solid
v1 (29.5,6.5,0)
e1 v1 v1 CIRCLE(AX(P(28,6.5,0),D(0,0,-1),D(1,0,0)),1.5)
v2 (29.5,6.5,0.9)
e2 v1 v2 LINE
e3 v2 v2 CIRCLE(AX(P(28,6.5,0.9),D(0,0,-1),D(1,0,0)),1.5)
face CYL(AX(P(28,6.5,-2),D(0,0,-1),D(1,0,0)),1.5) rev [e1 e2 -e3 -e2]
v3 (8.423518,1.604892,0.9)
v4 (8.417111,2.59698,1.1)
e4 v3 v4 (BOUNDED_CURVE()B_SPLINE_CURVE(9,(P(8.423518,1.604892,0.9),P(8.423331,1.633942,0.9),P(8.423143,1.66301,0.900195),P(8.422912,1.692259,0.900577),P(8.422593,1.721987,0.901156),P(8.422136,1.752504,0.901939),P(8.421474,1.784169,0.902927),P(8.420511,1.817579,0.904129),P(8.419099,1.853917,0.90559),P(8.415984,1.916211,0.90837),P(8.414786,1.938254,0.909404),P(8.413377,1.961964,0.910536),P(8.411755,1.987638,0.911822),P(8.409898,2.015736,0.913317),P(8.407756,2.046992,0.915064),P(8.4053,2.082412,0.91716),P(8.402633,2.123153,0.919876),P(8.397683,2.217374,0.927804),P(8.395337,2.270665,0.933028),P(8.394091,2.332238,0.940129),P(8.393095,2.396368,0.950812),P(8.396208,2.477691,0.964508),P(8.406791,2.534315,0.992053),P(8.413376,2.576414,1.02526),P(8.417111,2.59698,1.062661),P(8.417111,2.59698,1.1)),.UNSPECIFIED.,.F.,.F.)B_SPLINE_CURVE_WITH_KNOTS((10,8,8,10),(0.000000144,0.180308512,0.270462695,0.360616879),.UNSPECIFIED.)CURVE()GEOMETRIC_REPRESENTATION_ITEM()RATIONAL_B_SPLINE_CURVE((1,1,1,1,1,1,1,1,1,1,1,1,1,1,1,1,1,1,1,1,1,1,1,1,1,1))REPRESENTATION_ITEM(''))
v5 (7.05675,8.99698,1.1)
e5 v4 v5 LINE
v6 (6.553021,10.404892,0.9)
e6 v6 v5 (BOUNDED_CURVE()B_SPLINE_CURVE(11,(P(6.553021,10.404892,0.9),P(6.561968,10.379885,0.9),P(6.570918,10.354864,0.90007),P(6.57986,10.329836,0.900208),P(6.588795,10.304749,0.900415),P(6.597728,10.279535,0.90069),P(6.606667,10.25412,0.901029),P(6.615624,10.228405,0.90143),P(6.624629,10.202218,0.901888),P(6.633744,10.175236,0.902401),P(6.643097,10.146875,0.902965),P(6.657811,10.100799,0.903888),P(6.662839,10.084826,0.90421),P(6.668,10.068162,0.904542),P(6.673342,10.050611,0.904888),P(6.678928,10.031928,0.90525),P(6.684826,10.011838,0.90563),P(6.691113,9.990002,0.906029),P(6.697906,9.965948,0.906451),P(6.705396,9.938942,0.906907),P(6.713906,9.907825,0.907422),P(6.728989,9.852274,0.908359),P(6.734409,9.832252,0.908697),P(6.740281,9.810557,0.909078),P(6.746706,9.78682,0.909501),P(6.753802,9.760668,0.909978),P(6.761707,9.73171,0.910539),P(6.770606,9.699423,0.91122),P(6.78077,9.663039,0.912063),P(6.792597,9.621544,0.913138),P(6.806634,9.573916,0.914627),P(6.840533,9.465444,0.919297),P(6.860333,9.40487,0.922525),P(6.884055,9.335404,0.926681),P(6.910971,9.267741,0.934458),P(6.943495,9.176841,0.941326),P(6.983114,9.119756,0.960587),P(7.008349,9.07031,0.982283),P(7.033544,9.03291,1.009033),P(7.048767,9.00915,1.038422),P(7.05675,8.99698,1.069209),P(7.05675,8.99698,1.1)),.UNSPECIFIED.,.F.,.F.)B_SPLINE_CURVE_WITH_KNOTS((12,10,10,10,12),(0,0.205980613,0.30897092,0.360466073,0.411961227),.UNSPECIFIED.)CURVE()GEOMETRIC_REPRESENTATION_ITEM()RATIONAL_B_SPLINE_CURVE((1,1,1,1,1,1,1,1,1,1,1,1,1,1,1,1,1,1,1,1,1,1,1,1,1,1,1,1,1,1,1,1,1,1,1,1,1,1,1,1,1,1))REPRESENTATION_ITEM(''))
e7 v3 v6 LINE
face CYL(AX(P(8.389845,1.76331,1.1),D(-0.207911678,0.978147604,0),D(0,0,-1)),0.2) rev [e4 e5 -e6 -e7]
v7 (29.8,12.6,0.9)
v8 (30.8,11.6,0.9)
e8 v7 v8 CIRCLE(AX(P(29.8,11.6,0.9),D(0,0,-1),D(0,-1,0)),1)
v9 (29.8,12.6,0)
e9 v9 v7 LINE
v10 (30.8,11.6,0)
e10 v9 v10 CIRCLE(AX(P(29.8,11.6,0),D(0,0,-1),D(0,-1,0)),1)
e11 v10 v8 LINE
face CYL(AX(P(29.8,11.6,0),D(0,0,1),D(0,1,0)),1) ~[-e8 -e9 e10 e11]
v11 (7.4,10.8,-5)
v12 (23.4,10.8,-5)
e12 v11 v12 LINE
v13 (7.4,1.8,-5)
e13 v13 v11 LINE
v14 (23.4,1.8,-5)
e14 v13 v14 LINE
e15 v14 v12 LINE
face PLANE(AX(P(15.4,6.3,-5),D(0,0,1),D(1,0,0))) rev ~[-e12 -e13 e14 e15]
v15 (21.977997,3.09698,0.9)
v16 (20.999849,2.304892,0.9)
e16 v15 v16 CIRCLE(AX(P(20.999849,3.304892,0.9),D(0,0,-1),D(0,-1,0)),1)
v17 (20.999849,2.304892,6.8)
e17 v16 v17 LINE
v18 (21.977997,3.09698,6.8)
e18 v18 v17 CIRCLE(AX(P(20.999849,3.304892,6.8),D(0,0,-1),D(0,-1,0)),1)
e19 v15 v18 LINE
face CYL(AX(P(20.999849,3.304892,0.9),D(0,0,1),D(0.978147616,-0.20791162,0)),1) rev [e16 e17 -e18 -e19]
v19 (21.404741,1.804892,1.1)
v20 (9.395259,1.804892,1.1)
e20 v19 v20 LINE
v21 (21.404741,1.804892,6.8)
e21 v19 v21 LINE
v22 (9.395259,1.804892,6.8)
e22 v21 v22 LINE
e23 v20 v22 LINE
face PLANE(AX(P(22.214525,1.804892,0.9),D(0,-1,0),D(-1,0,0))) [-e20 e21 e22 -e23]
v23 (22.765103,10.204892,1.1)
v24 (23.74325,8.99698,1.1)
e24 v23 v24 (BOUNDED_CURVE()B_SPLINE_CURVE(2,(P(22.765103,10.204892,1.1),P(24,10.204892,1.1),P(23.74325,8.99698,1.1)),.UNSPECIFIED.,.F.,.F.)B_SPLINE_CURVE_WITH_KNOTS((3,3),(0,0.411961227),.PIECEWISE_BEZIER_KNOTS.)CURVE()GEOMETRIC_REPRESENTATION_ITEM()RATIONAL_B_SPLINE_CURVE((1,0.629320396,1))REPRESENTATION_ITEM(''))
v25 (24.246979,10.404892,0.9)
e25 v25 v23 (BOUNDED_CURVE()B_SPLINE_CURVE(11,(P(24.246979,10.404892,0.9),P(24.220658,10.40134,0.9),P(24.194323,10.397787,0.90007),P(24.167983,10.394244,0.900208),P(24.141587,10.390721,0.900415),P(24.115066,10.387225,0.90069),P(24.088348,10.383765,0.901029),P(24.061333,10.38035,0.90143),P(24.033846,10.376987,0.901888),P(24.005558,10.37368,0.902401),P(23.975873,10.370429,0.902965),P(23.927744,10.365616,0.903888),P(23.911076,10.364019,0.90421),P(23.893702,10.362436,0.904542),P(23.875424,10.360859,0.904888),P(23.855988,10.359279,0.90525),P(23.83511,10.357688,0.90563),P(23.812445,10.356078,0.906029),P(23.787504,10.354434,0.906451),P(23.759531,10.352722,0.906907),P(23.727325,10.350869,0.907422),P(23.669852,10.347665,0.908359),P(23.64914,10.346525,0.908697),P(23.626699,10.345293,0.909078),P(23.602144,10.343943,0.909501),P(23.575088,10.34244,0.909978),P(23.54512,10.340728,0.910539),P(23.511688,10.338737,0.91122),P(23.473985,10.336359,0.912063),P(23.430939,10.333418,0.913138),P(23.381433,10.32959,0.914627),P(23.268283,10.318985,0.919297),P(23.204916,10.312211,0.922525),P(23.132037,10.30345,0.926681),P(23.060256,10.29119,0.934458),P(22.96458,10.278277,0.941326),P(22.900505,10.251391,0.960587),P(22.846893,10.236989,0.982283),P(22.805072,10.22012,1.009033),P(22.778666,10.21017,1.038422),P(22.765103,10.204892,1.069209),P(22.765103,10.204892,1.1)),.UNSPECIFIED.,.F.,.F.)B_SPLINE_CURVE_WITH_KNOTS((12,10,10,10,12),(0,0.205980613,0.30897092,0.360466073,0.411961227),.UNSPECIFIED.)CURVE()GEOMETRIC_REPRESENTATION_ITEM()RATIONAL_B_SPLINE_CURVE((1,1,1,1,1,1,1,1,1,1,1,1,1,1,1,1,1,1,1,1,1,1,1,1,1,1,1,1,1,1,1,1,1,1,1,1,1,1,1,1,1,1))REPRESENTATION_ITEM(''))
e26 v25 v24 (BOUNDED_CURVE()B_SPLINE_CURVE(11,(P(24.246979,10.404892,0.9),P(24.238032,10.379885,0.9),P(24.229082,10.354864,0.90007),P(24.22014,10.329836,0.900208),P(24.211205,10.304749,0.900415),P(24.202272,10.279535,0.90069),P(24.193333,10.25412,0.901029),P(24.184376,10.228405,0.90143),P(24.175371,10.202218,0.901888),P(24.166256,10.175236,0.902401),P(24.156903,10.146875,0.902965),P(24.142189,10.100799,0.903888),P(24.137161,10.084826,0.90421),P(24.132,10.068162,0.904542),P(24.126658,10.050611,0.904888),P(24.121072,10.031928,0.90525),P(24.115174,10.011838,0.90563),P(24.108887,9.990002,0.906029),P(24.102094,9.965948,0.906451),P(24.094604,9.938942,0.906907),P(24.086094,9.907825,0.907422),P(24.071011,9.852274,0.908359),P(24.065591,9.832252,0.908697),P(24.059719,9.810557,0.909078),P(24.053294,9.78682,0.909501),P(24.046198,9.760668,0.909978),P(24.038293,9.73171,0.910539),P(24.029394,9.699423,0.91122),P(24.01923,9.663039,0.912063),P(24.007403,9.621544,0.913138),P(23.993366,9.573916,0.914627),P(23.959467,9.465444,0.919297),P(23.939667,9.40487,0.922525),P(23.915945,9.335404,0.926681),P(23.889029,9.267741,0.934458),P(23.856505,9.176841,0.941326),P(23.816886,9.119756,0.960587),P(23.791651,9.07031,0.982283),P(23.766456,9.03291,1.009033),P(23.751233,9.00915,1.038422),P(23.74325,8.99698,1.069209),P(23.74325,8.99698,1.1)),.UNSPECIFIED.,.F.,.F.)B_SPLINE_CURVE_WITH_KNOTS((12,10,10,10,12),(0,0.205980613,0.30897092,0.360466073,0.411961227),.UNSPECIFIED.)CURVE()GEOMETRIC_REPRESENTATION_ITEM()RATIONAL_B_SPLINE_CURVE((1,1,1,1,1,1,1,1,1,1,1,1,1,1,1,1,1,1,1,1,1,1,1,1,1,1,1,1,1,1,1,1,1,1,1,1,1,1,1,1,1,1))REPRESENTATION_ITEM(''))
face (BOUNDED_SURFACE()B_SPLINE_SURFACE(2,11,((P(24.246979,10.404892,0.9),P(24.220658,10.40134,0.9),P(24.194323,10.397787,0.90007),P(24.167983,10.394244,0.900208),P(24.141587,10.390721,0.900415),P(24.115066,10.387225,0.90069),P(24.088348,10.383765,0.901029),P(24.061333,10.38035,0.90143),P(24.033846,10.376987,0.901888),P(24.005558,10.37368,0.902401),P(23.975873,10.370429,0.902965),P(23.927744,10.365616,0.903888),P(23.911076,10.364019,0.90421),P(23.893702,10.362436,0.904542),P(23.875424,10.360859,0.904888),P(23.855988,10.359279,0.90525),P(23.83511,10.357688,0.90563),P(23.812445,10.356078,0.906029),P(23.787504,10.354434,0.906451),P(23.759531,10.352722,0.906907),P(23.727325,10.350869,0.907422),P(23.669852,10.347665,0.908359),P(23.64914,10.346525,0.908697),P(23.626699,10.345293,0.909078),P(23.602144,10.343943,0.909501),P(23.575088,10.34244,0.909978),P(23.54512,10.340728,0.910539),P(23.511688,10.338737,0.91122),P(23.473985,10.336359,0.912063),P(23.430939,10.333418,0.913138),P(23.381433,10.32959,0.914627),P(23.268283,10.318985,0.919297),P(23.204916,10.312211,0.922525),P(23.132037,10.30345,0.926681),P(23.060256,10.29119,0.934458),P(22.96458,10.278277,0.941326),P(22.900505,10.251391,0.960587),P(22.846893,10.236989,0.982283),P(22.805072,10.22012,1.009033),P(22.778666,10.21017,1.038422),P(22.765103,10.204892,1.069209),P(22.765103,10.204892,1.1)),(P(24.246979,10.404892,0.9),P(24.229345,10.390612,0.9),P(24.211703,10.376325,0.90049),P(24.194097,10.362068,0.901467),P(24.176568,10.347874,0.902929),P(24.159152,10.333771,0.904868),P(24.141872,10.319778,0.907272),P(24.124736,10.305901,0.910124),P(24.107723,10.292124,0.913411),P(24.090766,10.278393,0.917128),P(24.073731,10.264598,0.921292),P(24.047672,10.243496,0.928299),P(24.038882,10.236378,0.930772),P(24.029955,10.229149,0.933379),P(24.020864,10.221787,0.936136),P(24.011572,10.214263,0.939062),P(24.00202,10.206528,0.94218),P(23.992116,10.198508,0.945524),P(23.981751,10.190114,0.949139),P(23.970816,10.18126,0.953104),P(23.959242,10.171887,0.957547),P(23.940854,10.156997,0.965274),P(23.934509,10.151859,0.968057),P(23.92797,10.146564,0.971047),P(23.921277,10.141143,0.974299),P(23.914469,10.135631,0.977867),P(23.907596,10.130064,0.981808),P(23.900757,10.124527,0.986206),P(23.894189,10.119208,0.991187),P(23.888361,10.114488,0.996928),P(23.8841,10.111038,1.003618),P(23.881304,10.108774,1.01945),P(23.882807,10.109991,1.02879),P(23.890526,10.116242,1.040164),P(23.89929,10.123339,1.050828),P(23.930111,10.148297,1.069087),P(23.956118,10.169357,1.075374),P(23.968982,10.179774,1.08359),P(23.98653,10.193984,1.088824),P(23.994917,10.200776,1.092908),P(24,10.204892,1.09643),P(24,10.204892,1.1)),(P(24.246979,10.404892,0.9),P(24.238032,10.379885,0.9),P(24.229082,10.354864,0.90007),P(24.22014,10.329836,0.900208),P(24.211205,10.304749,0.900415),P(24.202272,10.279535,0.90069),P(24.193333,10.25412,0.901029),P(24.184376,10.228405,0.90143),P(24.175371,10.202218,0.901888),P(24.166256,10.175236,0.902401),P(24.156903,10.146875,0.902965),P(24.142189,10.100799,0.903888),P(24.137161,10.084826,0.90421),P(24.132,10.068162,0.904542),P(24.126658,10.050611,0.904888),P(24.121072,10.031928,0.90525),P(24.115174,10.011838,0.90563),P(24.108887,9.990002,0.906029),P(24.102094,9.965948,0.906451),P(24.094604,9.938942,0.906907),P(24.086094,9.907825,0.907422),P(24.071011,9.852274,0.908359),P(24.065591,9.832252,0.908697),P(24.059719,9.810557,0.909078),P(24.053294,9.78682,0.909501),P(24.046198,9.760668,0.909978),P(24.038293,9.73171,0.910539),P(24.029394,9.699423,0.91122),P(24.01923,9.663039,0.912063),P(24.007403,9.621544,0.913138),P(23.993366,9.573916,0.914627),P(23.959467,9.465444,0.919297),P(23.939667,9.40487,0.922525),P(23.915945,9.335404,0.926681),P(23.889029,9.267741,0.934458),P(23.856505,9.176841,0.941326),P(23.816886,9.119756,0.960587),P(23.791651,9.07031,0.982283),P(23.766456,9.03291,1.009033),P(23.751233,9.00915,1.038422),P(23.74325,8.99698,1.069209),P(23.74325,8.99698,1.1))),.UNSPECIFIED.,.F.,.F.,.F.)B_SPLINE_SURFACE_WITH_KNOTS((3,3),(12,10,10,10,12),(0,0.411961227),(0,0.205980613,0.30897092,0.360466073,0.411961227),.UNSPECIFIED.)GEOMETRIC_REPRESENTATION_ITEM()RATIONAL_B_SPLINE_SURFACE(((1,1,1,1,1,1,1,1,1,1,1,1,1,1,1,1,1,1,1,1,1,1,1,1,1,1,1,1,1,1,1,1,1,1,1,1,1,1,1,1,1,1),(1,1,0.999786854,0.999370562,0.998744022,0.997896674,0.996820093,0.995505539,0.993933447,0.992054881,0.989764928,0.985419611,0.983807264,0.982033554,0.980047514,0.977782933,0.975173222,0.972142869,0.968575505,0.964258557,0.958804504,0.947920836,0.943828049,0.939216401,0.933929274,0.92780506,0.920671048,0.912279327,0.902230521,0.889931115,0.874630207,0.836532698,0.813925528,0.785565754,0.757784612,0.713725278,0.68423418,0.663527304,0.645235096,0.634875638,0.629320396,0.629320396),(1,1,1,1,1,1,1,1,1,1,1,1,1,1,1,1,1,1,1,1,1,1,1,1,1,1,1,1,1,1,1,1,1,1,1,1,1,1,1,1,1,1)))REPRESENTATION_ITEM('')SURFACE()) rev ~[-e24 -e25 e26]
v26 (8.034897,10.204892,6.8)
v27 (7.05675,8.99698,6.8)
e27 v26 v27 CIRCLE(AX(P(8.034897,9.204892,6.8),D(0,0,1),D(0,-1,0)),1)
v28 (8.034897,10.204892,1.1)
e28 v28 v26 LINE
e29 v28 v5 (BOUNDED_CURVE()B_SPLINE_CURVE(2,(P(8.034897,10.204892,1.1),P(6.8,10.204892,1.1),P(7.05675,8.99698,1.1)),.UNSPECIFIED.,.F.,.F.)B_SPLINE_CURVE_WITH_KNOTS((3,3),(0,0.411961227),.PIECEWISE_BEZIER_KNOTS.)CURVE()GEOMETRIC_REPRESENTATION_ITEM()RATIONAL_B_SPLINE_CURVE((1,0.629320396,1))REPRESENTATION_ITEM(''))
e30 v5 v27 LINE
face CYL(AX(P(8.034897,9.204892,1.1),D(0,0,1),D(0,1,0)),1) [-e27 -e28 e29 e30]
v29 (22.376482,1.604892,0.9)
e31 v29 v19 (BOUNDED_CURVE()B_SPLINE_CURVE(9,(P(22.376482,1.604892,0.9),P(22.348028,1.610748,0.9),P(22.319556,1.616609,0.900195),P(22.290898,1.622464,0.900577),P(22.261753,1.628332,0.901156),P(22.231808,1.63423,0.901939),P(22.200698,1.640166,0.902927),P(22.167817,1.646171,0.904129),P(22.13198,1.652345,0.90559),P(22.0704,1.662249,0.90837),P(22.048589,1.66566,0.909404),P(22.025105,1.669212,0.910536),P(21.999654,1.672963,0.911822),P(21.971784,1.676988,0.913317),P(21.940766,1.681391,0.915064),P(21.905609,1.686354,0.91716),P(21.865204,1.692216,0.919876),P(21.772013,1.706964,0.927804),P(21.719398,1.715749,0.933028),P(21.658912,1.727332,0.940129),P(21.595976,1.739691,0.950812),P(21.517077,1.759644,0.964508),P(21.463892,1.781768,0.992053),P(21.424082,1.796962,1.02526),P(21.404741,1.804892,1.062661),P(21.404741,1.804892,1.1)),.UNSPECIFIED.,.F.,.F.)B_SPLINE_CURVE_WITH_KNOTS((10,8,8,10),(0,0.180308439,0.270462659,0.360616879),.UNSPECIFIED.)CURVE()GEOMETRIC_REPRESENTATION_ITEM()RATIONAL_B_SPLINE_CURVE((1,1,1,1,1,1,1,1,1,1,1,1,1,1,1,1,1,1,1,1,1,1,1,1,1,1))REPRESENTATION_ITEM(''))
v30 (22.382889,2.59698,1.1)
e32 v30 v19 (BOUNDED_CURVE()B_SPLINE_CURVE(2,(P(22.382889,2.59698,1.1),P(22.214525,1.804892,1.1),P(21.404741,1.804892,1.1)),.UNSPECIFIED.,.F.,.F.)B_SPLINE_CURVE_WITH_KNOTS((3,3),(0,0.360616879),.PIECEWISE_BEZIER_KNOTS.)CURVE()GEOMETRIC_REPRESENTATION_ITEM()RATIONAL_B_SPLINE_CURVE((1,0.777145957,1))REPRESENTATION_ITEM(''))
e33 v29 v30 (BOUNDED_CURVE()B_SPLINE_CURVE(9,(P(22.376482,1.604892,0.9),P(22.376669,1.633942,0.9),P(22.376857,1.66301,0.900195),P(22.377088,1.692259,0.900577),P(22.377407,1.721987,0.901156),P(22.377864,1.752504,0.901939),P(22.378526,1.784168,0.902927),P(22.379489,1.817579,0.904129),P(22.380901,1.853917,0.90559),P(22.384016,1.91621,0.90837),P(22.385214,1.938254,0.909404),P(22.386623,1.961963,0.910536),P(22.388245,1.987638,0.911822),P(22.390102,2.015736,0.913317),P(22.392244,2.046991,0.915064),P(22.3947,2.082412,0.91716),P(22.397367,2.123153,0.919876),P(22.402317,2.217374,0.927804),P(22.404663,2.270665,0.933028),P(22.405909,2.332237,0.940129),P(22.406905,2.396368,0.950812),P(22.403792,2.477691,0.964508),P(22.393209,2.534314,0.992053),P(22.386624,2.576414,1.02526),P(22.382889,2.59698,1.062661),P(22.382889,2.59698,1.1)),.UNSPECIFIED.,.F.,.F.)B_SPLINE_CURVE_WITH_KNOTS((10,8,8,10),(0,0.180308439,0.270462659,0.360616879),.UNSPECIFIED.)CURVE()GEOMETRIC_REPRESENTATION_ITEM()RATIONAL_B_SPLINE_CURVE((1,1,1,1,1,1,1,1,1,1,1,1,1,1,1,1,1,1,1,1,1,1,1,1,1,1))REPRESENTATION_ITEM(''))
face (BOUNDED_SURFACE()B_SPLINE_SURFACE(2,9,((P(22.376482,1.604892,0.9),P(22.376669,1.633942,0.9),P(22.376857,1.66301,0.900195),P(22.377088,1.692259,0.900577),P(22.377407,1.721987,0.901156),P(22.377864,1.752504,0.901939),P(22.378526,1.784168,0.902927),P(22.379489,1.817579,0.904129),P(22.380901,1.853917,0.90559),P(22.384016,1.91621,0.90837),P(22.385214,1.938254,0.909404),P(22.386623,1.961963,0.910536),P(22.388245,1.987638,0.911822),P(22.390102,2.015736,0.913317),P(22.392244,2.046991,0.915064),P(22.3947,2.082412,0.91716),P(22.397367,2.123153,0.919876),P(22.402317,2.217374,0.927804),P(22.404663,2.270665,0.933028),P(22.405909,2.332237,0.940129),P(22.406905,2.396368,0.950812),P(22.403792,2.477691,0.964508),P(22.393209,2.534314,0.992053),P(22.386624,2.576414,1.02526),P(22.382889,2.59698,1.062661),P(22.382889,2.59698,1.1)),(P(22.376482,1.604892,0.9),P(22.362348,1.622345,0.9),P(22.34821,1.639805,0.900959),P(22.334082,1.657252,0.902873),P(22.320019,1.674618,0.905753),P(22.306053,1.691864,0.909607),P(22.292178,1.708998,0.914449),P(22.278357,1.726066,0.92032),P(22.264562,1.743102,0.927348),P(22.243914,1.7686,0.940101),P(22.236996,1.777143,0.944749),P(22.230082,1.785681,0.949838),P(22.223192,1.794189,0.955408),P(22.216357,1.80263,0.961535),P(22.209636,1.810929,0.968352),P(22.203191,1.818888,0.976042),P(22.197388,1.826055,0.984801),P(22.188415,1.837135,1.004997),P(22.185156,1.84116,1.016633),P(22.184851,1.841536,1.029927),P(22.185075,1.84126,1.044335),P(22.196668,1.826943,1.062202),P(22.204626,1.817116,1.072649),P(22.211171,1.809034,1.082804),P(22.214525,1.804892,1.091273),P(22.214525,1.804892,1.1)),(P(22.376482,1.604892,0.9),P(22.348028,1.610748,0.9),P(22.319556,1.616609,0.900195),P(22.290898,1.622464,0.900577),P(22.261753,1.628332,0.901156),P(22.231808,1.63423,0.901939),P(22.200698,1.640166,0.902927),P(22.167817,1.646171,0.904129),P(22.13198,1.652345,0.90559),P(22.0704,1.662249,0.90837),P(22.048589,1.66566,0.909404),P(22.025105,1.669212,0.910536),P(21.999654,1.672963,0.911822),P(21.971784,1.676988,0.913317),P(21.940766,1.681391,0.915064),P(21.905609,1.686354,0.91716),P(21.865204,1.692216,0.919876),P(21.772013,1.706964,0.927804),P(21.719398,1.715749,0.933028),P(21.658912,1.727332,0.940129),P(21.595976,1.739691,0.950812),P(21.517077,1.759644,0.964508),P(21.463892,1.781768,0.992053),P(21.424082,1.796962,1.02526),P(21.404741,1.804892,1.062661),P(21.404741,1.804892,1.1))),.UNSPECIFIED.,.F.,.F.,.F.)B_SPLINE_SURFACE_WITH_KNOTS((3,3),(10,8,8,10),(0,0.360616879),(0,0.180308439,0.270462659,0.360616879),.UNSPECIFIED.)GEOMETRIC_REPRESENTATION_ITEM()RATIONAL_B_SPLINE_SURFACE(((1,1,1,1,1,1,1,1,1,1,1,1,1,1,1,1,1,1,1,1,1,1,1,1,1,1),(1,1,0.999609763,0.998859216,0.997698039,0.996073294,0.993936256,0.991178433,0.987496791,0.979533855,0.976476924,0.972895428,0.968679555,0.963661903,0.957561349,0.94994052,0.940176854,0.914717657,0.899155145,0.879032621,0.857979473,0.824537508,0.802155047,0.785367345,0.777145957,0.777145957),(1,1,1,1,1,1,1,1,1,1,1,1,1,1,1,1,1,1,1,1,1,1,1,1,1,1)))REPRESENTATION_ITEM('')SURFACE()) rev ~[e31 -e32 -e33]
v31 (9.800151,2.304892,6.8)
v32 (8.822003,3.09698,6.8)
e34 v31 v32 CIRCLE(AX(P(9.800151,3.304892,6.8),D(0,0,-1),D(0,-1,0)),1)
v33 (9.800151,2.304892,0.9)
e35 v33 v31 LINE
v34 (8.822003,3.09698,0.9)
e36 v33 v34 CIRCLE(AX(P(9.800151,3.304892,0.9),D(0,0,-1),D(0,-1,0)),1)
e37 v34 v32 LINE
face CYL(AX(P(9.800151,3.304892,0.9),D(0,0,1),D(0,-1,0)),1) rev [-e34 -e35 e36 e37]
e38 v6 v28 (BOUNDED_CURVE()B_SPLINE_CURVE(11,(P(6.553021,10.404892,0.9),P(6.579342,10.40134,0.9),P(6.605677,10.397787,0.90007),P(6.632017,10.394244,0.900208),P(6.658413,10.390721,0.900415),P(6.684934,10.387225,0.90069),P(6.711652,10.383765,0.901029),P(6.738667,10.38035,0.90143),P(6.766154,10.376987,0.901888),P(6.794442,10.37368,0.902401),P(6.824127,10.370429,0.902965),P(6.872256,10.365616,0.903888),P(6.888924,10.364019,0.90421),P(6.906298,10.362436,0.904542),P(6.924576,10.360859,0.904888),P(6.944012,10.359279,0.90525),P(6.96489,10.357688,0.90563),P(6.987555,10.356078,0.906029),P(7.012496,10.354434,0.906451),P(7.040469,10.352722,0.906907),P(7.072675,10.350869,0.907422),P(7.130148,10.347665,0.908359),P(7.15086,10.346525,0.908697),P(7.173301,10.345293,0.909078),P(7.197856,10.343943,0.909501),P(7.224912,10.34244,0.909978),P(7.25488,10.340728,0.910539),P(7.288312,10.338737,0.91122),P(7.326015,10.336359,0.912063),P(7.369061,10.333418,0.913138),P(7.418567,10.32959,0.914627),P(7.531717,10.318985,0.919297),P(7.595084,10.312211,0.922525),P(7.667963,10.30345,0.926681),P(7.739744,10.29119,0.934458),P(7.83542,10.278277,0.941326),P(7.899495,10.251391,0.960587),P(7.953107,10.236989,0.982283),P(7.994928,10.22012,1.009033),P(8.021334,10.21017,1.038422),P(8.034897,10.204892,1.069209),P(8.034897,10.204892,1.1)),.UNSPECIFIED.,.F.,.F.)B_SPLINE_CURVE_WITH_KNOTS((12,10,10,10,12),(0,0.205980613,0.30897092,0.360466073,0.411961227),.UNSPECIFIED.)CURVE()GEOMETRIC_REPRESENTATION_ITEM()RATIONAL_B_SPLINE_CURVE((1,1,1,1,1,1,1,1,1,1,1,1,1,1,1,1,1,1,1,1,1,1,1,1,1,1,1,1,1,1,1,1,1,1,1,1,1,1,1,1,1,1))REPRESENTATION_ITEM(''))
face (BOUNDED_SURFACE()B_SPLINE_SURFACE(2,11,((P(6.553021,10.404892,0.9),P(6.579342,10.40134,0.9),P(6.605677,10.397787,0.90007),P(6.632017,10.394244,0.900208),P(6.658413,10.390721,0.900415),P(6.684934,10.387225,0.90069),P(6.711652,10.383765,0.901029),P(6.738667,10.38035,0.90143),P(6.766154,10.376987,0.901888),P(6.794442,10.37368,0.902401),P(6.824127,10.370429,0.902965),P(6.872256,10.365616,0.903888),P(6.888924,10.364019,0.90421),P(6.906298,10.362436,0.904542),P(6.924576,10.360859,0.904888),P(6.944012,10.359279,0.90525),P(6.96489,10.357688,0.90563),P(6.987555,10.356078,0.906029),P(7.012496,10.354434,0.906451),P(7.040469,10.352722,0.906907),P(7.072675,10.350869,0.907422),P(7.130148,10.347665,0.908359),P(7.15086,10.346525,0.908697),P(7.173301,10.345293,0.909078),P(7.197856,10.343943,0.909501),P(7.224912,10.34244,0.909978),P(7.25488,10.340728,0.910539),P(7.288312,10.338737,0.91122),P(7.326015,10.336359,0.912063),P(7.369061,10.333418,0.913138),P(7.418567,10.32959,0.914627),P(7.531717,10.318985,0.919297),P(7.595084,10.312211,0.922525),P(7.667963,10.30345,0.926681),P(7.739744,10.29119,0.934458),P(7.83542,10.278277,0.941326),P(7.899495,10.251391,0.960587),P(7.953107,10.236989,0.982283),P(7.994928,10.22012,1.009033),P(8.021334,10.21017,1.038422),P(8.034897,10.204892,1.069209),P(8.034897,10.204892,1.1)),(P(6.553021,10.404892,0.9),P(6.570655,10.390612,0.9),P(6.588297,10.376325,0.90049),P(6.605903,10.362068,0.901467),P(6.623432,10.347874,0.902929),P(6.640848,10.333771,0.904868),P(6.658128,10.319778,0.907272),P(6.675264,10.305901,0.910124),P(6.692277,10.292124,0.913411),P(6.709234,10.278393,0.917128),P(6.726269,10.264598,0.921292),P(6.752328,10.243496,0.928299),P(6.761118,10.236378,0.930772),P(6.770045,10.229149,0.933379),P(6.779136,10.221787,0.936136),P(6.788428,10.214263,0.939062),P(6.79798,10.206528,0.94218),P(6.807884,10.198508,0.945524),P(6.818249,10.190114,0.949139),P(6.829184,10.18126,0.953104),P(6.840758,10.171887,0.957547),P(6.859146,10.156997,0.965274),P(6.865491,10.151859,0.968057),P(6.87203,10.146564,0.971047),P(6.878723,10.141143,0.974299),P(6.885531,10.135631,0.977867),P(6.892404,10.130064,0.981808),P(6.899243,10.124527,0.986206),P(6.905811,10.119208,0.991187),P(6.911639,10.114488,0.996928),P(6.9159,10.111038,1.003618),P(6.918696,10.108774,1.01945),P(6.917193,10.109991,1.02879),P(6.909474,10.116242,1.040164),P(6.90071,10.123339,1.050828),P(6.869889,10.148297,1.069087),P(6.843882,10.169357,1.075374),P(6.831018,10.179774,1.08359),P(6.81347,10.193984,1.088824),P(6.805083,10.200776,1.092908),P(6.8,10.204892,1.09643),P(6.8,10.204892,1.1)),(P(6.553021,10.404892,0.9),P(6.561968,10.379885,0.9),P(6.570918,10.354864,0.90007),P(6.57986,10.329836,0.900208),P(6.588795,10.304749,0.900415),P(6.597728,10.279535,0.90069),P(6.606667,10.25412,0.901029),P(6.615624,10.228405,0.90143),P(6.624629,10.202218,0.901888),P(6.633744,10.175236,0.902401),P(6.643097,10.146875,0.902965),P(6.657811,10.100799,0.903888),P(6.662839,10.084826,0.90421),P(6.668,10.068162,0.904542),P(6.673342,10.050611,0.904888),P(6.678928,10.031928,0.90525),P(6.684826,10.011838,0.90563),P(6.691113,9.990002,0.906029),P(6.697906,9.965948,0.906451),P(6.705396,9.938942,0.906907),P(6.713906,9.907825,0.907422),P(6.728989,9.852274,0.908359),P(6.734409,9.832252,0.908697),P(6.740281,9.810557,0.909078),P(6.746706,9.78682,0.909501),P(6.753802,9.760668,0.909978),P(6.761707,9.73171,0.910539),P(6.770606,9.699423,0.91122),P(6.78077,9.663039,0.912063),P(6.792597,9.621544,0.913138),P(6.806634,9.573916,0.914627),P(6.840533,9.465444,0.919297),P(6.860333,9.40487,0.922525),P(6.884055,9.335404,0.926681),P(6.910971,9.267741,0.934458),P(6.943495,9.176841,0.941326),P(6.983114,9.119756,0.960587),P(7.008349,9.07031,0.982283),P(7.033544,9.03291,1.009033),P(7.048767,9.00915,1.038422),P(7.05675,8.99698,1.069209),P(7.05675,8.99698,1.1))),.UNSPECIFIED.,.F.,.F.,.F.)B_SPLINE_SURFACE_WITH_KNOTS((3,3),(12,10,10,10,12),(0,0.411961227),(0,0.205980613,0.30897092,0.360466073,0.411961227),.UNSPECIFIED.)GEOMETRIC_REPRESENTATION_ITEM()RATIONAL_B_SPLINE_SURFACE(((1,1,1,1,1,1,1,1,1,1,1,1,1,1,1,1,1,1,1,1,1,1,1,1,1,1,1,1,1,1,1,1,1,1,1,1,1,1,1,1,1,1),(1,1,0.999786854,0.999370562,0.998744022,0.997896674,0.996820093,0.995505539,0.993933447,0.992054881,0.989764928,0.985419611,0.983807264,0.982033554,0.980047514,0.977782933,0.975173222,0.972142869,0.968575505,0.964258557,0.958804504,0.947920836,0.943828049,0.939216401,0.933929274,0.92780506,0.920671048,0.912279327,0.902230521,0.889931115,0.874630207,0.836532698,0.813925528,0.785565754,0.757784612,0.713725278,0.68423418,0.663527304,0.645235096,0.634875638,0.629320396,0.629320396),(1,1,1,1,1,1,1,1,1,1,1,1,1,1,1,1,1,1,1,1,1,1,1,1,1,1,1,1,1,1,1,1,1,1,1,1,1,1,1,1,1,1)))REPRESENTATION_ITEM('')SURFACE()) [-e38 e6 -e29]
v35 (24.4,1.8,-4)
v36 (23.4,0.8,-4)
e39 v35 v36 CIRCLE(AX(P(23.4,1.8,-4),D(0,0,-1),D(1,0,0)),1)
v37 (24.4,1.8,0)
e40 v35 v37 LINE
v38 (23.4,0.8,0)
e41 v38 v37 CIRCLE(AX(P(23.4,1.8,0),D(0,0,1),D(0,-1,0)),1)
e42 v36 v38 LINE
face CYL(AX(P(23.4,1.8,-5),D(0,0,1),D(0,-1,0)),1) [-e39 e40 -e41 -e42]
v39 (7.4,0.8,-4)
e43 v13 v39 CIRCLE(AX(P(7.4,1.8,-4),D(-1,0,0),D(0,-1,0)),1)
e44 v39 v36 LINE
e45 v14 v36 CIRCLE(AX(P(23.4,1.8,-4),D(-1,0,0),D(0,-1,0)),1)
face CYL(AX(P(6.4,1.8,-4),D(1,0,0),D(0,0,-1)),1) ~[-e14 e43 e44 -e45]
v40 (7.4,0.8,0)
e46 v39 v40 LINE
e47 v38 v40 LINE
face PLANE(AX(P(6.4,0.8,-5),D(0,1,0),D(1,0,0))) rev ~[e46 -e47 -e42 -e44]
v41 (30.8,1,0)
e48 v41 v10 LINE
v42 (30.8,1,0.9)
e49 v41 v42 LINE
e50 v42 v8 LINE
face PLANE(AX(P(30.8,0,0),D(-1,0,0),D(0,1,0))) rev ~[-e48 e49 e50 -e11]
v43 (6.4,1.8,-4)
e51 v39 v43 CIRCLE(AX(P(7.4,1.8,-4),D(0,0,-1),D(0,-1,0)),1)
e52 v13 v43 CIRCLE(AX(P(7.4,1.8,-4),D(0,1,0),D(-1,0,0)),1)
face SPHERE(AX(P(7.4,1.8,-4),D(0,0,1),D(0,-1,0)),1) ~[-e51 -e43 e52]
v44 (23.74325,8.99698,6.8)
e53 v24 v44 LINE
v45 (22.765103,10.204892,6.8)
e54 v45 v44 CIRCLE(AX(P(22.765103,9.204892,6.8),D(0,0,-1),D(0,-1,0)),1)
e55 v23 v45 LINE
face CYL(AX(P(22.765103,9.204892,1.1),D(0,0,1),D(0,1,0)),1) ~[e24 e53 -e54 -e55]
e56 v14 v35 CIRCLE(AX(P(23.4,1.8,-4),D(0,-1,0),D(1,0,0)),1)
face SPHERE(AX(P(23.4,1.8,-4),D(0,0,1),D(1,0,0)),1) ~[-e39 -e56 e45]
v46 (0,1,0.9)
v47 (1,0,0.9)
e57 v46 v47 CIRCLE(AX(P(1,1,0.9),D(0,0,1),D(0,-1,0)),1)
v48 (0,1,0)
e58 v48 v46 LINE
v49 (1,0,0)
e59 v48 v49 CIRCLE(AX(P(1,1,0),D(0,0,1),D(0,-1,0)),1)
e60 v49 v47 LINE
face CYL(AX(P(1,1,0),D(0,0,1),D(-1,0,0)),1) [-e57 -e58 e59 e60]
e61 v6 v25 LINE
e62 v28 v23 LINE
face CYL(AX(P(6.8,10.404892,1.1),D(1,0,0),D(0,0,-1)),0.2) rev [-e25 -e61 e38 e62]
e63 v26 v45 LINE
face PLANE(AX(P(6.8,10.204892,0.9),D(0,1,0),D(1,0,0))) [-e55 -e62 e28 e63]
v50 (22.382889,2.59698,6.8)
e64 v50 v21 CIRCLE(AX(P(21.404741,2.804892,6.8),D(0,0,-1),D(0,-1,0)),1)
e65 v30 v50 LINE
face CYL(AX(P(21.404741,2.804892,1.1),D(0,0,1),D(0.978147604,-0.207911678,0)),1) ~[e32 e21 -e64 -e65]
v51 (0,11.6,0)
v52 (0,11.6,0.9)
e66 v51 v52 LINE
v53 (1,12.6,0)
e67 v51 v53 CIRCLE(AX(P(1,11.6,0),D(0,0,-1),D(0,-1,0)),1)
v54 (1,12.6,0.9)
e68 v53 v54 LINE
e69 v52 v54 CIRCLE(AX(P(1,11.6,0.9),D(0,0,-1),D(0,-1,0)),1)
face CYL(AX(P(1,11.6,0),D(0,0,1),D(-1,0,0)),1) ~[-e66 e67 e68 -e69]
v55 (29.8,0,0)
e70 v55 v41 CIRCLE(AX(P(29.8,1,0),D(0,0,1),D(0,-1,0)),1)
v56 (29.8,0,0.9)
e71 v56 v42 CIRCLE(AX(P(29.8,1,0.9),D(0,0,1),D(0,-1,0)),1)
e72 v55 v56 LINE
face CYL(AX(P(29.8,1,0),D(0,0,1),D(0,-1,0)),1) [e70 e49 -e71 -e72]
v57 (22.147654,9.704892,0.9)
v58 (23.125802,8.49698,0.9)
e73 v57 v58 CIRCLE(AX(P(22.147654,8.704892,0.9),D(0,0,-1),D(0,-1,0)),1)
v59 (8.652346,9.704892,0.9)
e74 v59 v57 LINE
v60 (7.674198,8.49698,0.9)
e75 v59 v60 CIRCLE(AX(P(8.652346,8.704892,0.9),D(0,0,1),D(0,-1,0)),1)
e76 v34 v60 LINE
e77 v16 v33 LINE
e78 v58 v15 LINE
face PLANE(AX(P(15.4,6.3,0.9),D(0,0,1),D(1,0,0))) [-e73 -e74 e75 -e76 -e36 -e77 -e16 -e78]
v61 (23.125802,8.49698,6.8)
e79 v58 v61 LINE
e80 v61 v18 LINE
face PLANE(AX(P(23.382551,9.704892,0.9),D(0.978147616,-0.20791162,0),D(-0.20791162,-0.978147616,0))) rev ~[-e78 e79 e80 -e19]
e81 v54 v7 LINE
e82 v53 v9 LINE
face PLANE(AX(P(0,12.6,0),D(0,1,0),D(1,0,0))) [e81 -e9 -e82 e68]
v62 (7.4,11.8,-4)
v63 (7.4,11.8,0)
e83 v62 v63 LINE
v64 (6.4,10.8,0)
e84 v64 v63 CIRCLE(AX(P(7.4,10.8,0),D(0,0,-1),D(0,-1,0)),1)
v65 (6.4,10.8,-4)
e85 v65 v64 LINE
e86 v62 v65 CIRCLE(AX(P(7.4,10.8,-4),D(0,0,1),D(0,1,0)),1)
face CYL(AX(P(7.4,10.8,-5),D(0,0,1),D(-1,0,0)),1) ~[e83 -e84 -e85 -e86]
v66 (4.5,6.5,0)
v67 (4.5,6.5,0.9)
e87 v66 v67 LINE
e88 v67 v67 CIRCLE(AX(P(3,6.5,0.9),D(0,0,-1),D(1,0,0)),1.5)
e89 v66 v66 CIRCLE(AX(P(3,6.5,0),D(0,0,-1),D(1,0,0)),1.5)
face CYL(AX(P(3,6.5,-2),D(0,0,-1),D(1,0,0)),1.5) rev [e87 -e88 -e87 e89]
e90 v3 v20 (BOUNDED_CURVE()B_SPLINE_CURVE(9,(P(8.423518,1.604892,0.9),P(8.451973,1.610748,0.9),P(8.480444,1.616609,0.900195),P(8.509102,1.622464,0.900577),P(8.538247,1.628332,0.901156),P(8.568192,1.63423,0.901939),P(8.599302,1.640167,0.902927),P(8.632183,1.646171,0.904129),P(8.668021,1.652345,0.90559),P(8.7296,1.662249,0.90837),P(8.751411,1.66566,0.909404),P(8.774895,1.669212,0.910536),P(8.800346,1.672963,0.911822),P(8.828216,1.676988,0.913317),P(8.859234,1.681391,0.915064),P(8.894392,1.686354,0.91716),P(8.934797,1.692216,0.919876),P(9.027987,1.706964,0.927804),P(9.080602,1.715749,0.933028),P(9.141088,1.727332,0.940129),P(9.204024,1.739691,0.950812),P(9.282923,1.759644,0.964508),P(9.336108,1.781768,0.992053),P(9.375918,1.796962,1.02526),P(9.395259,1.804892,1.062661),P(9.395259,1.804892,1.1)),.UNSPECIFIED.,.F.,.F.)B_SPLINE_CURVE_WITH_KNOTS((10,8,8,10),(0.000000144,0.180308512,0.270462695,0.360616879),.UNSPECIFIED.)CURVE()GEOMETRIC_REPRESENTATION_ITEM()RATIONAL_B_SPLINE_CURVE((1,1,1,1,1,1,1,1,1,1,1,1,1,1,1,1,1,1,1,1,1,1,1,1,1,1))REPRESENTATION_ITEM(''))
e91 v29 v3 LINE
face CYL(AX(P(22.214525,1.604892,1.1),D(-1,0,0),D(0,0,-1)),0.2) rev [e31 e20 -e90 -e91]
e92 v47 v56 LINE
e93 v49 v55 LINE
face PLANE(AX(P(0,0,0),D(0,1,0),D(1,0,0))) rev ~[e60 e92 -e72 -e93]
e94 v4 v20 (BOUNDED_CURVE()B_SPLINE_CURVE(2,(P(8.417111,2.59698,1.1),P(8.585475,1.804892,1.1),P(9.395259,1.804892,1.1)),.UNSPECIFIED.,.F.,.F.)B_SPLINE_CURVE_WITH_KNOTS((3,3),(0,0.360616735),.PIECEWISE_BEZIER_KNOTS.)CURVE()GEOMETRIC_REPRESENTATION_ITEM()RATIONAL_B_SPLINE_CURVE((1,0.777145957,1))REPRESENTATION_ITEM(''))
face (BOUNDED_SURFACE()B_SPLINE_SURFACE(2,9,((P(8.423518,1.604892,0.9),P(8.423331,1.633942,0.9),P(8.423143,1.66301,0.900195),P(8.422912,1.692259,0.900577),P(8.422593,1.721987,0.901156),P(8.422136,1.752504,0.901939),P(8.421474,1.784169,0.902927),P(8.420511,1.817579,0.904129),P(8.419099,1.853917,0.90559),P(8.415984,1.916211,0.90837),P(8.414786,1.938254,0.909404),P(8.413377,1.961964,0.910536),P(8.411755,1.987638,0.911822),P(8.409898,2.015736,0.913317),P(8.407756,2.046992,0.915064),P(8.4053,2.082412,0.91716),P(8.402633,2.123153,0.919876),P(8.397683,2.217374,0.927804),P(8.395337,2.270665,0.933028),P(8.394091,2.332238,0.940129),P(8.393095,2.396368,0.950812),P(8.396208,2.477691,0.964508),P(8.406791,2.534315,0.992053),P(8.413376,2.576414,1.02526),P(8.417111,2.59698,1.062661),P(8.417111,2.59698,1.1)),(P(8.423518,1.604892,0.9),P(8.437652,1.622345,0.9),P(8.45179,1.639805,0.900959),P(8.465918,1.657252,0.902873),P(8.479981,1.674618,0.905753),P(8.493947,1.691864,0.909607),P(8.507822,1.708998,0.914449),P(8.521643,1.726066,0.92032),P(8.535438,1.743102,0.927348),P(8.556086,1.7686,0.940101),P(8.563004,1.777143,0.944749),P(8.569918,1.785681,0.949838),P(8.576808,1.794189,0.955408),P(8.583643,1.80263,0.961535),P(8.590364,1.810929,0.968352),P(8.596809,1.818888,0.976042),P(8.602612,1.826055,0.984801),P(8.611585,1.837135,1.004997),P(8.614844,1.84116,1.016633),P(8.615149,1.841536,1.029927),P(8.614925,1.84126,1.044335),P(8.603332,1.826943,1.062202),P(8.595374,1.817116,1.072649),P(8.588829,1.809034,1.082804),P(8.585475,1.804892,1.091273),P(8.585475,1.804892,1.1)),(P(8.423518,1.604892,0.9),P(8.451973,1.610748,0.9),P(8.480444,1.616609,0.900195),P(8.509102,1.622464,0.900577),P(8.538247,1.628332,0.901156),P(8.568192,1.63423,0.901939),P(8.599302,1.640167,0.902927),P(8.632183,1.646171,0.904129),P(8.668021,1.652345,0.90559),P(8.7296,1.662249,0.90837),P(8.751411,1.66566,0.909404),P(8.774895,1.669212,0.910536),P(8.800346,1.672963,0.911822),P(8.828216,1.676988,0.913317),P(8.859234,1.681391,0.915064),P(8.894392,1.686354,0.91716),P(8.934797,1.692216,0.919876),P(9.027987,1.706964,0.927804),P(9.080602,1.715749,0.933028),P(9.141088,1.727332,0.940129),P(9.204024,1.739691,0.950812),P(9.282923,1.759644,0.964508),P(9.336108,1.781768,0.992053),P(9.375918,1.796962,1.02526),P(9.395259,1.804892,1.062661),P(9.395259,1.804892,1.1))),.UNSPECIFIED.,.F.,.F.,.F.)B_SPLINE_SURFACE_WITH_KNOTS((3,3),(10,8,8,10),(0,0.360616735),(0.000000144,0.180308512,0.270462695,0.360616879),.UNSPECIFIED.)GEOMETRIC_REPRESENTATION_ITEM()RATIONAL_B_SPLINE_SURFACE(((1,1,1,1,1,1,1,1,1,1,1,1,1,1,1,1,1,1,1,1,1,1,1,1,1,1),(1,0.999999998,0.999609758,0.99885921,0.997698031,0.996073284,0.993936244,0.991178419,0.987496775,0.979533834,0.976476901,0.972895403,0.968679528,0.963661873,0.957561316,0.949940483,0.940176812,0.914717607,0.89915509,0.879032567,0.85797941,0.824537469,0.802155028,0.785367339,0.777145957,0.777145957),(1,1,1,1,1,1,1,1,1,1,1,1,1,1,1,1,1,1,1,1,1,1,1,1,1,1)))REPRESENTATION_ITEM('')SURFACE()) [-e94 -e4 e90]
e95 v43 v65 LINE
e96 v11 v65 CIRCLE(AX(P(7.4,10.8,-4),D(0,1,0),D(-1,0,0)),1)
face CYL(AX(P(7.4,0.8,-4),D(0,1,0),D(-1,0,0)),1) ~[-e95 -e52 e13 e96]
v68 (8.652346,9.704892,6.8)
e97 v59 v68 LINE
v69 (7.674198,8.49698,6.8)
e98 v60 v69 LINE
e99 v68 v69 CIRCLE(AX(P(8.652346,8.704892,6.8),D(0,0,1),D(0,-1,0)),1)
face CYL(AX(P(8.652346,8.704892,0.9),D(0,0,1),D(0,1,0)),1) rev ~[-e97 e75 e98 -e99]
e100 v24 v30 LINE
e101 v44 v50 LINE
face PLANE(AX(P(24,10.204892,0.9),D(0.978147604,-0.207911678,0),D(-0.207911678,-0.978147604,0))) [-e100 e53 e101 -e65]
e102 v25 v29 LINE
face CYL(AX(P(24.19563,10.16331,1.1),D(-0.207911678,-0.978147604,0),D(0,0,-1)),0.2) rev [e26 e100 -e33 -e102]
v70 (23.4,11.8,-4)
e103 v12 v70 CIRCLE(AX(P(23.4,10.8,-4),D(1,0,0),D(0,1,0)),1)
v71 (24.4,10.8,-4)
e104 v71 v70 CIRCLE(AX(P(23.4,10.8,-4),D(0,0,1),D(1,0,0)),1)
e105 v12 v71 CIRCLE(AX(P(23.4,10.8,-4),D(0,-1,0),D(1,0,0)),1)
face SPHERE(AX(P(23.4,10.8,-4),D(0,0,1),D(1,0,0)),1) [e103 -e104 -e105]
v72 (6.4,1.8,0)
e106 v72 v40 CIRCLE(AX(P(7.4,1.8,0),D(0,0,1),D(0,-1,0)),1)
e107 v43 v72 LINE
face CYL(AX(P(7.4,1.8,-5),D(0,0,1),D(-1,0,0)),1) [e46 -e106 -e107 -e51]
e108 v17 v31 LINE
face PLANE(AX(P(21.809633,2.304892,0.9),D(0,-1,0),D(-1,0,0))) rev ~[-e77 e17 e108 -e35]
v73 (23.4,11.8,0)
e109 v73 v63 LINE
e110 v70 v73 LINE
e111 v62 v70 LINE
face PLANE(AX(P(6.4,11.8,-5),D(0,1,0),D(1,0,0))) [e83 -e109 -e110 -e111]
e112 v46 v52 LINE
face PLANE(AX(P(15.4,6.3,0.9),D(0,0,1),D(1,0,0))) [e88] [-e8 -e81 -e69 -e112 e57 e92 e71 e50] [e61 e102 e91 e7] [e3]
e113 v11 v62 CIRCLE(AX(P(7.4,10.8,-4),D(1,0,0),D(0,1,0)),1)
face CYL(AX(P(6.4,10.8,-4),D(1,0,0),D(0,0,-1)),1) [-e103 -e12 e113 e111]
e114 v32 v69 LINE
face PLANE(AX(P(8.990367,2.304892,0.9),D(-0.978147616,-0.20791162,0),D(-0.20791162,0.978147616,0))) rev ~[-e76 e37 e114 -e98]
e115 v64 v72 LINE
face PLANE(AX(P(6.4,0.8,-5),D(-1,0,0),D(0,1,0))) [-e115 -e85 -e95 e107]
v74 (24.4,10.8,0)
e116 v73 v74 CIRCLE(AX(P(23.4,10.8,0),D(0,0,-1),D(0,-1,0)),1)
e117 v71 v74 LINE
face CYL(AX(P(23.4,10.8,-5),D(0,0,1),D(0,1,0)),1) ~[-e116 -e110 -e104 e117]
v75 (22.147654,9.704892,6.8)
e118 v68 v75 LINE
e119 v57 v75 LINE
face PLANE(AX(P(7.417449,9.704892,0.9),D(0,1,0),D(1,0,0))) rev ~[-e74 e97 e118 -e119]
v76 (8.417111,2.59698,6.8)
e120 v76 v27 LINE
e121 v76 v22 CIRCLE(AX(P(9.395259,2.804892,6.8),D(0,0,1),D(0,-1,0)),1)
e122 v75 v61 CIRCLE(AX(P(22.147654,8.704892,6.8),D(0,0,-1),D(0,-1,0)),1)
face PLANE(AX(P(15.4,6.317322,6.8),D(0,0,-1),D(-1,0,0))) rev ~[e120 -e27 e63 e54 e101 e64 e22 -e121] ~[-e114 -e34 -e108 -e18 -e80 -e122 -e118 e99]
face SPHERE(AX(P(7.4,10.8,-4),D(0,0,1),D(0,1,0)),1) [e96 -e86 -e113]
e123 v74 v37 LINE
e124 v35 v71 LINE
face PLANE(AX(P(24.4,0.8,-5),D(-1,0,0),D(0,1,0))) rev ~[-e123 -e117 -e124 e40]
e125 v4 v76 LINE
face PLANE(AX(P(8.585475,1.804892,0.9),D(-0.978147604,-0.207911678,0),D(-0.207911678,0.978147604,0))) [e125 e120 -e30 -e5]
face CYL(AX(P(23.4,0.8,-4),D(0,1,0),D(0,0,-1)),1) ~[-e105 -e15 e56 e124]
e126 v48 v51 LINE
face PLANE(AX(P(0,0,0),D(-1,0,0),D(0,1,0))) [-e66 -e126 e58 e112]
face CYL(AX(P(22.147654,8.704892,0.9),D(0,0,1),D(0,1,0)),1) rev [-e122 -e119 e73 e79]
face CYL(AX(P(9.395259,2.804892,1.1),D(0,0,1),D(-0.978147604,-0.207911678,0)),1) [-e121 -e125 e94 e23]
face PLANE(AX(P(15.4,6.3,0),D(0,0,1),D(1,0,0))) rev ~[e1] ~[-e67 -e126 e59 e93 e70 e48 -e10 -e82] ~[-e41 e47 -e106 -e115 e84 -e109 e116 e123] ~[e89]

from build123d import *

# Parameters (mm, degrees)
CYLINDER_R        = 1.5
CYLINDER_DEPTH    = 10
CYLINDER001_R     = 1.5
CYLINDER001_DEPTH = 10
BOX001_W          = 18
BOX001_H          = 11
BOX001_DEPTH      = 5.2
BOX_W             = 30.8
BOX_H             = 12.6
BOX_DEPTH         = 0.9
FILLET_R          = 1
FILLET001_R       = 1
PAD_DEPTH         = 5.9
FILLET002_R       = 0.2
FILLET003_R       = 1


with BuildPart() as cylinder:
    # Cylinder → Cylinder (new body)
    with BuildSketch(Plane.XY.offset(-2)):
        Circle(CYLINDER_R)
    extrude(amount=CYLINDER_DEPTH)


with BuildPart() as fusion:
    # Cylinder001 → Cylinder001 (new body)
    with BuildSketch(Plane(origin=(25, 0, -2), x_dir=(1, 0, 0), z_dir=(0, 0, 1))):
        Circle(CYLINDER001_R)
    extrude(amount=CYLINDER001_DEPTH)

    # Fusion: union Cylinder
    add(cylinder.part)


with BuildPart() as fusion_1:
    # Fusion placement: moved
    add(fusion.part.moved(Location((3, 6.5, 0))))


with BuildPart() as cube001:
    # Box001 → Box001 (new body)
    with BuildSketch(Plane(origin=(6.4, 0.8, -5), x_dir=(1, 0, 0), z_dir=(0, 0, 1))):
        with Locations((9, 5.5)):
            Rectangle(BOX001_W, BOX001_H)
    extrude(amount=BOX001_DEPTH)


with BuildPart() as fillet003:
    # Box → Box (new body)
    with BuildSketch(Plane.XY):
        with Locations((15.4, 6.3)):
            Rectangle(BOX_W, BOX_H)
    extrude(amount=BOX_DEPTH)

    # Fusion001: union Cube001
    add(cube001.part)

    # Cut: cut Fusion
    add(fusion_1.part, mode=Mode.SUBTRACT)

    # Fillet
    fillet_edges = [fillet003.edges().sort_by_distance(p)[0] for p in [
        (24.4, 0.8, -2.5),
        (24.4, 11.8, -2.5),
        (24.4, 6.3, -5),
        (6.4, 0.8, -2.5),
        (15.4, 0.8, -5),
        (6.4, 11.8, -2.5),
        (15.4, 11.8, -5),
        (6.4, 6.3, -5),
    ]]
    fillet(fillet_edges, radius=FILLET_R)

    # Fillet001
    fillet001_edges = [fillet003.edges().sort_by_distance(p)[0] for p in [
        (0, 0, 0.45),
        (0, 12.6, 0.45),
        (30.8, 12.6, 0.45),
        (30.8, 0, 0.45),
    ]]
    fillet(fillet001_edges, radius=FILLET001_R)

    # Sketch → Pad (new body)
    with BuildSketch(Plane.XY.offset(0.9)):
        Polygon((6.8, 10.204892), (24, 10.204892), (22.214525, 1.804892), (8.585475, 1.804892), align=None)
        Polygon((7.417449, 9.704892), (23.382551, 9.704892), (21.809633, 2.304892), (8.990367, 2.304892), align=None, mode=Mode.SUBTRACT)
    extrude(amount=PAD_DEPTH)

    # Fillet002
    fillet002_edges = [fillet003.edges().sort_by_distance(p)[0] for p in [
        (15.4, 10.204892, 0.9),
        (23.107262, 6.004892, 0.9),
        (15.4, 1.804892, 0.9),
        (7.692738, 6.004892, 0.9),
    ]]
    fillet(fillet002_edges, radius=FILLET002_R)

    # Fillet003
    fillet003_edges = [fillet003.edges().sort_by_distance(p)[0] for p in [
        (6.8, 10.204892, 3.95),
        (24, 10.204892, 3.95),
        (8.585475, 1.804892, 3.95),
        (22.214525, 1.804892, 3.95),
        (7.417449, 9.704892, 3.85),
        (23.382551, 9.704892, 3.85),
        (21.809633, 2.304892, 3.85),
        (8.990367, 2.304892, 3.85),
    ]]
    fillet(fillet003_edges, radius=FILLET003_R)


solid = fillet003.part
